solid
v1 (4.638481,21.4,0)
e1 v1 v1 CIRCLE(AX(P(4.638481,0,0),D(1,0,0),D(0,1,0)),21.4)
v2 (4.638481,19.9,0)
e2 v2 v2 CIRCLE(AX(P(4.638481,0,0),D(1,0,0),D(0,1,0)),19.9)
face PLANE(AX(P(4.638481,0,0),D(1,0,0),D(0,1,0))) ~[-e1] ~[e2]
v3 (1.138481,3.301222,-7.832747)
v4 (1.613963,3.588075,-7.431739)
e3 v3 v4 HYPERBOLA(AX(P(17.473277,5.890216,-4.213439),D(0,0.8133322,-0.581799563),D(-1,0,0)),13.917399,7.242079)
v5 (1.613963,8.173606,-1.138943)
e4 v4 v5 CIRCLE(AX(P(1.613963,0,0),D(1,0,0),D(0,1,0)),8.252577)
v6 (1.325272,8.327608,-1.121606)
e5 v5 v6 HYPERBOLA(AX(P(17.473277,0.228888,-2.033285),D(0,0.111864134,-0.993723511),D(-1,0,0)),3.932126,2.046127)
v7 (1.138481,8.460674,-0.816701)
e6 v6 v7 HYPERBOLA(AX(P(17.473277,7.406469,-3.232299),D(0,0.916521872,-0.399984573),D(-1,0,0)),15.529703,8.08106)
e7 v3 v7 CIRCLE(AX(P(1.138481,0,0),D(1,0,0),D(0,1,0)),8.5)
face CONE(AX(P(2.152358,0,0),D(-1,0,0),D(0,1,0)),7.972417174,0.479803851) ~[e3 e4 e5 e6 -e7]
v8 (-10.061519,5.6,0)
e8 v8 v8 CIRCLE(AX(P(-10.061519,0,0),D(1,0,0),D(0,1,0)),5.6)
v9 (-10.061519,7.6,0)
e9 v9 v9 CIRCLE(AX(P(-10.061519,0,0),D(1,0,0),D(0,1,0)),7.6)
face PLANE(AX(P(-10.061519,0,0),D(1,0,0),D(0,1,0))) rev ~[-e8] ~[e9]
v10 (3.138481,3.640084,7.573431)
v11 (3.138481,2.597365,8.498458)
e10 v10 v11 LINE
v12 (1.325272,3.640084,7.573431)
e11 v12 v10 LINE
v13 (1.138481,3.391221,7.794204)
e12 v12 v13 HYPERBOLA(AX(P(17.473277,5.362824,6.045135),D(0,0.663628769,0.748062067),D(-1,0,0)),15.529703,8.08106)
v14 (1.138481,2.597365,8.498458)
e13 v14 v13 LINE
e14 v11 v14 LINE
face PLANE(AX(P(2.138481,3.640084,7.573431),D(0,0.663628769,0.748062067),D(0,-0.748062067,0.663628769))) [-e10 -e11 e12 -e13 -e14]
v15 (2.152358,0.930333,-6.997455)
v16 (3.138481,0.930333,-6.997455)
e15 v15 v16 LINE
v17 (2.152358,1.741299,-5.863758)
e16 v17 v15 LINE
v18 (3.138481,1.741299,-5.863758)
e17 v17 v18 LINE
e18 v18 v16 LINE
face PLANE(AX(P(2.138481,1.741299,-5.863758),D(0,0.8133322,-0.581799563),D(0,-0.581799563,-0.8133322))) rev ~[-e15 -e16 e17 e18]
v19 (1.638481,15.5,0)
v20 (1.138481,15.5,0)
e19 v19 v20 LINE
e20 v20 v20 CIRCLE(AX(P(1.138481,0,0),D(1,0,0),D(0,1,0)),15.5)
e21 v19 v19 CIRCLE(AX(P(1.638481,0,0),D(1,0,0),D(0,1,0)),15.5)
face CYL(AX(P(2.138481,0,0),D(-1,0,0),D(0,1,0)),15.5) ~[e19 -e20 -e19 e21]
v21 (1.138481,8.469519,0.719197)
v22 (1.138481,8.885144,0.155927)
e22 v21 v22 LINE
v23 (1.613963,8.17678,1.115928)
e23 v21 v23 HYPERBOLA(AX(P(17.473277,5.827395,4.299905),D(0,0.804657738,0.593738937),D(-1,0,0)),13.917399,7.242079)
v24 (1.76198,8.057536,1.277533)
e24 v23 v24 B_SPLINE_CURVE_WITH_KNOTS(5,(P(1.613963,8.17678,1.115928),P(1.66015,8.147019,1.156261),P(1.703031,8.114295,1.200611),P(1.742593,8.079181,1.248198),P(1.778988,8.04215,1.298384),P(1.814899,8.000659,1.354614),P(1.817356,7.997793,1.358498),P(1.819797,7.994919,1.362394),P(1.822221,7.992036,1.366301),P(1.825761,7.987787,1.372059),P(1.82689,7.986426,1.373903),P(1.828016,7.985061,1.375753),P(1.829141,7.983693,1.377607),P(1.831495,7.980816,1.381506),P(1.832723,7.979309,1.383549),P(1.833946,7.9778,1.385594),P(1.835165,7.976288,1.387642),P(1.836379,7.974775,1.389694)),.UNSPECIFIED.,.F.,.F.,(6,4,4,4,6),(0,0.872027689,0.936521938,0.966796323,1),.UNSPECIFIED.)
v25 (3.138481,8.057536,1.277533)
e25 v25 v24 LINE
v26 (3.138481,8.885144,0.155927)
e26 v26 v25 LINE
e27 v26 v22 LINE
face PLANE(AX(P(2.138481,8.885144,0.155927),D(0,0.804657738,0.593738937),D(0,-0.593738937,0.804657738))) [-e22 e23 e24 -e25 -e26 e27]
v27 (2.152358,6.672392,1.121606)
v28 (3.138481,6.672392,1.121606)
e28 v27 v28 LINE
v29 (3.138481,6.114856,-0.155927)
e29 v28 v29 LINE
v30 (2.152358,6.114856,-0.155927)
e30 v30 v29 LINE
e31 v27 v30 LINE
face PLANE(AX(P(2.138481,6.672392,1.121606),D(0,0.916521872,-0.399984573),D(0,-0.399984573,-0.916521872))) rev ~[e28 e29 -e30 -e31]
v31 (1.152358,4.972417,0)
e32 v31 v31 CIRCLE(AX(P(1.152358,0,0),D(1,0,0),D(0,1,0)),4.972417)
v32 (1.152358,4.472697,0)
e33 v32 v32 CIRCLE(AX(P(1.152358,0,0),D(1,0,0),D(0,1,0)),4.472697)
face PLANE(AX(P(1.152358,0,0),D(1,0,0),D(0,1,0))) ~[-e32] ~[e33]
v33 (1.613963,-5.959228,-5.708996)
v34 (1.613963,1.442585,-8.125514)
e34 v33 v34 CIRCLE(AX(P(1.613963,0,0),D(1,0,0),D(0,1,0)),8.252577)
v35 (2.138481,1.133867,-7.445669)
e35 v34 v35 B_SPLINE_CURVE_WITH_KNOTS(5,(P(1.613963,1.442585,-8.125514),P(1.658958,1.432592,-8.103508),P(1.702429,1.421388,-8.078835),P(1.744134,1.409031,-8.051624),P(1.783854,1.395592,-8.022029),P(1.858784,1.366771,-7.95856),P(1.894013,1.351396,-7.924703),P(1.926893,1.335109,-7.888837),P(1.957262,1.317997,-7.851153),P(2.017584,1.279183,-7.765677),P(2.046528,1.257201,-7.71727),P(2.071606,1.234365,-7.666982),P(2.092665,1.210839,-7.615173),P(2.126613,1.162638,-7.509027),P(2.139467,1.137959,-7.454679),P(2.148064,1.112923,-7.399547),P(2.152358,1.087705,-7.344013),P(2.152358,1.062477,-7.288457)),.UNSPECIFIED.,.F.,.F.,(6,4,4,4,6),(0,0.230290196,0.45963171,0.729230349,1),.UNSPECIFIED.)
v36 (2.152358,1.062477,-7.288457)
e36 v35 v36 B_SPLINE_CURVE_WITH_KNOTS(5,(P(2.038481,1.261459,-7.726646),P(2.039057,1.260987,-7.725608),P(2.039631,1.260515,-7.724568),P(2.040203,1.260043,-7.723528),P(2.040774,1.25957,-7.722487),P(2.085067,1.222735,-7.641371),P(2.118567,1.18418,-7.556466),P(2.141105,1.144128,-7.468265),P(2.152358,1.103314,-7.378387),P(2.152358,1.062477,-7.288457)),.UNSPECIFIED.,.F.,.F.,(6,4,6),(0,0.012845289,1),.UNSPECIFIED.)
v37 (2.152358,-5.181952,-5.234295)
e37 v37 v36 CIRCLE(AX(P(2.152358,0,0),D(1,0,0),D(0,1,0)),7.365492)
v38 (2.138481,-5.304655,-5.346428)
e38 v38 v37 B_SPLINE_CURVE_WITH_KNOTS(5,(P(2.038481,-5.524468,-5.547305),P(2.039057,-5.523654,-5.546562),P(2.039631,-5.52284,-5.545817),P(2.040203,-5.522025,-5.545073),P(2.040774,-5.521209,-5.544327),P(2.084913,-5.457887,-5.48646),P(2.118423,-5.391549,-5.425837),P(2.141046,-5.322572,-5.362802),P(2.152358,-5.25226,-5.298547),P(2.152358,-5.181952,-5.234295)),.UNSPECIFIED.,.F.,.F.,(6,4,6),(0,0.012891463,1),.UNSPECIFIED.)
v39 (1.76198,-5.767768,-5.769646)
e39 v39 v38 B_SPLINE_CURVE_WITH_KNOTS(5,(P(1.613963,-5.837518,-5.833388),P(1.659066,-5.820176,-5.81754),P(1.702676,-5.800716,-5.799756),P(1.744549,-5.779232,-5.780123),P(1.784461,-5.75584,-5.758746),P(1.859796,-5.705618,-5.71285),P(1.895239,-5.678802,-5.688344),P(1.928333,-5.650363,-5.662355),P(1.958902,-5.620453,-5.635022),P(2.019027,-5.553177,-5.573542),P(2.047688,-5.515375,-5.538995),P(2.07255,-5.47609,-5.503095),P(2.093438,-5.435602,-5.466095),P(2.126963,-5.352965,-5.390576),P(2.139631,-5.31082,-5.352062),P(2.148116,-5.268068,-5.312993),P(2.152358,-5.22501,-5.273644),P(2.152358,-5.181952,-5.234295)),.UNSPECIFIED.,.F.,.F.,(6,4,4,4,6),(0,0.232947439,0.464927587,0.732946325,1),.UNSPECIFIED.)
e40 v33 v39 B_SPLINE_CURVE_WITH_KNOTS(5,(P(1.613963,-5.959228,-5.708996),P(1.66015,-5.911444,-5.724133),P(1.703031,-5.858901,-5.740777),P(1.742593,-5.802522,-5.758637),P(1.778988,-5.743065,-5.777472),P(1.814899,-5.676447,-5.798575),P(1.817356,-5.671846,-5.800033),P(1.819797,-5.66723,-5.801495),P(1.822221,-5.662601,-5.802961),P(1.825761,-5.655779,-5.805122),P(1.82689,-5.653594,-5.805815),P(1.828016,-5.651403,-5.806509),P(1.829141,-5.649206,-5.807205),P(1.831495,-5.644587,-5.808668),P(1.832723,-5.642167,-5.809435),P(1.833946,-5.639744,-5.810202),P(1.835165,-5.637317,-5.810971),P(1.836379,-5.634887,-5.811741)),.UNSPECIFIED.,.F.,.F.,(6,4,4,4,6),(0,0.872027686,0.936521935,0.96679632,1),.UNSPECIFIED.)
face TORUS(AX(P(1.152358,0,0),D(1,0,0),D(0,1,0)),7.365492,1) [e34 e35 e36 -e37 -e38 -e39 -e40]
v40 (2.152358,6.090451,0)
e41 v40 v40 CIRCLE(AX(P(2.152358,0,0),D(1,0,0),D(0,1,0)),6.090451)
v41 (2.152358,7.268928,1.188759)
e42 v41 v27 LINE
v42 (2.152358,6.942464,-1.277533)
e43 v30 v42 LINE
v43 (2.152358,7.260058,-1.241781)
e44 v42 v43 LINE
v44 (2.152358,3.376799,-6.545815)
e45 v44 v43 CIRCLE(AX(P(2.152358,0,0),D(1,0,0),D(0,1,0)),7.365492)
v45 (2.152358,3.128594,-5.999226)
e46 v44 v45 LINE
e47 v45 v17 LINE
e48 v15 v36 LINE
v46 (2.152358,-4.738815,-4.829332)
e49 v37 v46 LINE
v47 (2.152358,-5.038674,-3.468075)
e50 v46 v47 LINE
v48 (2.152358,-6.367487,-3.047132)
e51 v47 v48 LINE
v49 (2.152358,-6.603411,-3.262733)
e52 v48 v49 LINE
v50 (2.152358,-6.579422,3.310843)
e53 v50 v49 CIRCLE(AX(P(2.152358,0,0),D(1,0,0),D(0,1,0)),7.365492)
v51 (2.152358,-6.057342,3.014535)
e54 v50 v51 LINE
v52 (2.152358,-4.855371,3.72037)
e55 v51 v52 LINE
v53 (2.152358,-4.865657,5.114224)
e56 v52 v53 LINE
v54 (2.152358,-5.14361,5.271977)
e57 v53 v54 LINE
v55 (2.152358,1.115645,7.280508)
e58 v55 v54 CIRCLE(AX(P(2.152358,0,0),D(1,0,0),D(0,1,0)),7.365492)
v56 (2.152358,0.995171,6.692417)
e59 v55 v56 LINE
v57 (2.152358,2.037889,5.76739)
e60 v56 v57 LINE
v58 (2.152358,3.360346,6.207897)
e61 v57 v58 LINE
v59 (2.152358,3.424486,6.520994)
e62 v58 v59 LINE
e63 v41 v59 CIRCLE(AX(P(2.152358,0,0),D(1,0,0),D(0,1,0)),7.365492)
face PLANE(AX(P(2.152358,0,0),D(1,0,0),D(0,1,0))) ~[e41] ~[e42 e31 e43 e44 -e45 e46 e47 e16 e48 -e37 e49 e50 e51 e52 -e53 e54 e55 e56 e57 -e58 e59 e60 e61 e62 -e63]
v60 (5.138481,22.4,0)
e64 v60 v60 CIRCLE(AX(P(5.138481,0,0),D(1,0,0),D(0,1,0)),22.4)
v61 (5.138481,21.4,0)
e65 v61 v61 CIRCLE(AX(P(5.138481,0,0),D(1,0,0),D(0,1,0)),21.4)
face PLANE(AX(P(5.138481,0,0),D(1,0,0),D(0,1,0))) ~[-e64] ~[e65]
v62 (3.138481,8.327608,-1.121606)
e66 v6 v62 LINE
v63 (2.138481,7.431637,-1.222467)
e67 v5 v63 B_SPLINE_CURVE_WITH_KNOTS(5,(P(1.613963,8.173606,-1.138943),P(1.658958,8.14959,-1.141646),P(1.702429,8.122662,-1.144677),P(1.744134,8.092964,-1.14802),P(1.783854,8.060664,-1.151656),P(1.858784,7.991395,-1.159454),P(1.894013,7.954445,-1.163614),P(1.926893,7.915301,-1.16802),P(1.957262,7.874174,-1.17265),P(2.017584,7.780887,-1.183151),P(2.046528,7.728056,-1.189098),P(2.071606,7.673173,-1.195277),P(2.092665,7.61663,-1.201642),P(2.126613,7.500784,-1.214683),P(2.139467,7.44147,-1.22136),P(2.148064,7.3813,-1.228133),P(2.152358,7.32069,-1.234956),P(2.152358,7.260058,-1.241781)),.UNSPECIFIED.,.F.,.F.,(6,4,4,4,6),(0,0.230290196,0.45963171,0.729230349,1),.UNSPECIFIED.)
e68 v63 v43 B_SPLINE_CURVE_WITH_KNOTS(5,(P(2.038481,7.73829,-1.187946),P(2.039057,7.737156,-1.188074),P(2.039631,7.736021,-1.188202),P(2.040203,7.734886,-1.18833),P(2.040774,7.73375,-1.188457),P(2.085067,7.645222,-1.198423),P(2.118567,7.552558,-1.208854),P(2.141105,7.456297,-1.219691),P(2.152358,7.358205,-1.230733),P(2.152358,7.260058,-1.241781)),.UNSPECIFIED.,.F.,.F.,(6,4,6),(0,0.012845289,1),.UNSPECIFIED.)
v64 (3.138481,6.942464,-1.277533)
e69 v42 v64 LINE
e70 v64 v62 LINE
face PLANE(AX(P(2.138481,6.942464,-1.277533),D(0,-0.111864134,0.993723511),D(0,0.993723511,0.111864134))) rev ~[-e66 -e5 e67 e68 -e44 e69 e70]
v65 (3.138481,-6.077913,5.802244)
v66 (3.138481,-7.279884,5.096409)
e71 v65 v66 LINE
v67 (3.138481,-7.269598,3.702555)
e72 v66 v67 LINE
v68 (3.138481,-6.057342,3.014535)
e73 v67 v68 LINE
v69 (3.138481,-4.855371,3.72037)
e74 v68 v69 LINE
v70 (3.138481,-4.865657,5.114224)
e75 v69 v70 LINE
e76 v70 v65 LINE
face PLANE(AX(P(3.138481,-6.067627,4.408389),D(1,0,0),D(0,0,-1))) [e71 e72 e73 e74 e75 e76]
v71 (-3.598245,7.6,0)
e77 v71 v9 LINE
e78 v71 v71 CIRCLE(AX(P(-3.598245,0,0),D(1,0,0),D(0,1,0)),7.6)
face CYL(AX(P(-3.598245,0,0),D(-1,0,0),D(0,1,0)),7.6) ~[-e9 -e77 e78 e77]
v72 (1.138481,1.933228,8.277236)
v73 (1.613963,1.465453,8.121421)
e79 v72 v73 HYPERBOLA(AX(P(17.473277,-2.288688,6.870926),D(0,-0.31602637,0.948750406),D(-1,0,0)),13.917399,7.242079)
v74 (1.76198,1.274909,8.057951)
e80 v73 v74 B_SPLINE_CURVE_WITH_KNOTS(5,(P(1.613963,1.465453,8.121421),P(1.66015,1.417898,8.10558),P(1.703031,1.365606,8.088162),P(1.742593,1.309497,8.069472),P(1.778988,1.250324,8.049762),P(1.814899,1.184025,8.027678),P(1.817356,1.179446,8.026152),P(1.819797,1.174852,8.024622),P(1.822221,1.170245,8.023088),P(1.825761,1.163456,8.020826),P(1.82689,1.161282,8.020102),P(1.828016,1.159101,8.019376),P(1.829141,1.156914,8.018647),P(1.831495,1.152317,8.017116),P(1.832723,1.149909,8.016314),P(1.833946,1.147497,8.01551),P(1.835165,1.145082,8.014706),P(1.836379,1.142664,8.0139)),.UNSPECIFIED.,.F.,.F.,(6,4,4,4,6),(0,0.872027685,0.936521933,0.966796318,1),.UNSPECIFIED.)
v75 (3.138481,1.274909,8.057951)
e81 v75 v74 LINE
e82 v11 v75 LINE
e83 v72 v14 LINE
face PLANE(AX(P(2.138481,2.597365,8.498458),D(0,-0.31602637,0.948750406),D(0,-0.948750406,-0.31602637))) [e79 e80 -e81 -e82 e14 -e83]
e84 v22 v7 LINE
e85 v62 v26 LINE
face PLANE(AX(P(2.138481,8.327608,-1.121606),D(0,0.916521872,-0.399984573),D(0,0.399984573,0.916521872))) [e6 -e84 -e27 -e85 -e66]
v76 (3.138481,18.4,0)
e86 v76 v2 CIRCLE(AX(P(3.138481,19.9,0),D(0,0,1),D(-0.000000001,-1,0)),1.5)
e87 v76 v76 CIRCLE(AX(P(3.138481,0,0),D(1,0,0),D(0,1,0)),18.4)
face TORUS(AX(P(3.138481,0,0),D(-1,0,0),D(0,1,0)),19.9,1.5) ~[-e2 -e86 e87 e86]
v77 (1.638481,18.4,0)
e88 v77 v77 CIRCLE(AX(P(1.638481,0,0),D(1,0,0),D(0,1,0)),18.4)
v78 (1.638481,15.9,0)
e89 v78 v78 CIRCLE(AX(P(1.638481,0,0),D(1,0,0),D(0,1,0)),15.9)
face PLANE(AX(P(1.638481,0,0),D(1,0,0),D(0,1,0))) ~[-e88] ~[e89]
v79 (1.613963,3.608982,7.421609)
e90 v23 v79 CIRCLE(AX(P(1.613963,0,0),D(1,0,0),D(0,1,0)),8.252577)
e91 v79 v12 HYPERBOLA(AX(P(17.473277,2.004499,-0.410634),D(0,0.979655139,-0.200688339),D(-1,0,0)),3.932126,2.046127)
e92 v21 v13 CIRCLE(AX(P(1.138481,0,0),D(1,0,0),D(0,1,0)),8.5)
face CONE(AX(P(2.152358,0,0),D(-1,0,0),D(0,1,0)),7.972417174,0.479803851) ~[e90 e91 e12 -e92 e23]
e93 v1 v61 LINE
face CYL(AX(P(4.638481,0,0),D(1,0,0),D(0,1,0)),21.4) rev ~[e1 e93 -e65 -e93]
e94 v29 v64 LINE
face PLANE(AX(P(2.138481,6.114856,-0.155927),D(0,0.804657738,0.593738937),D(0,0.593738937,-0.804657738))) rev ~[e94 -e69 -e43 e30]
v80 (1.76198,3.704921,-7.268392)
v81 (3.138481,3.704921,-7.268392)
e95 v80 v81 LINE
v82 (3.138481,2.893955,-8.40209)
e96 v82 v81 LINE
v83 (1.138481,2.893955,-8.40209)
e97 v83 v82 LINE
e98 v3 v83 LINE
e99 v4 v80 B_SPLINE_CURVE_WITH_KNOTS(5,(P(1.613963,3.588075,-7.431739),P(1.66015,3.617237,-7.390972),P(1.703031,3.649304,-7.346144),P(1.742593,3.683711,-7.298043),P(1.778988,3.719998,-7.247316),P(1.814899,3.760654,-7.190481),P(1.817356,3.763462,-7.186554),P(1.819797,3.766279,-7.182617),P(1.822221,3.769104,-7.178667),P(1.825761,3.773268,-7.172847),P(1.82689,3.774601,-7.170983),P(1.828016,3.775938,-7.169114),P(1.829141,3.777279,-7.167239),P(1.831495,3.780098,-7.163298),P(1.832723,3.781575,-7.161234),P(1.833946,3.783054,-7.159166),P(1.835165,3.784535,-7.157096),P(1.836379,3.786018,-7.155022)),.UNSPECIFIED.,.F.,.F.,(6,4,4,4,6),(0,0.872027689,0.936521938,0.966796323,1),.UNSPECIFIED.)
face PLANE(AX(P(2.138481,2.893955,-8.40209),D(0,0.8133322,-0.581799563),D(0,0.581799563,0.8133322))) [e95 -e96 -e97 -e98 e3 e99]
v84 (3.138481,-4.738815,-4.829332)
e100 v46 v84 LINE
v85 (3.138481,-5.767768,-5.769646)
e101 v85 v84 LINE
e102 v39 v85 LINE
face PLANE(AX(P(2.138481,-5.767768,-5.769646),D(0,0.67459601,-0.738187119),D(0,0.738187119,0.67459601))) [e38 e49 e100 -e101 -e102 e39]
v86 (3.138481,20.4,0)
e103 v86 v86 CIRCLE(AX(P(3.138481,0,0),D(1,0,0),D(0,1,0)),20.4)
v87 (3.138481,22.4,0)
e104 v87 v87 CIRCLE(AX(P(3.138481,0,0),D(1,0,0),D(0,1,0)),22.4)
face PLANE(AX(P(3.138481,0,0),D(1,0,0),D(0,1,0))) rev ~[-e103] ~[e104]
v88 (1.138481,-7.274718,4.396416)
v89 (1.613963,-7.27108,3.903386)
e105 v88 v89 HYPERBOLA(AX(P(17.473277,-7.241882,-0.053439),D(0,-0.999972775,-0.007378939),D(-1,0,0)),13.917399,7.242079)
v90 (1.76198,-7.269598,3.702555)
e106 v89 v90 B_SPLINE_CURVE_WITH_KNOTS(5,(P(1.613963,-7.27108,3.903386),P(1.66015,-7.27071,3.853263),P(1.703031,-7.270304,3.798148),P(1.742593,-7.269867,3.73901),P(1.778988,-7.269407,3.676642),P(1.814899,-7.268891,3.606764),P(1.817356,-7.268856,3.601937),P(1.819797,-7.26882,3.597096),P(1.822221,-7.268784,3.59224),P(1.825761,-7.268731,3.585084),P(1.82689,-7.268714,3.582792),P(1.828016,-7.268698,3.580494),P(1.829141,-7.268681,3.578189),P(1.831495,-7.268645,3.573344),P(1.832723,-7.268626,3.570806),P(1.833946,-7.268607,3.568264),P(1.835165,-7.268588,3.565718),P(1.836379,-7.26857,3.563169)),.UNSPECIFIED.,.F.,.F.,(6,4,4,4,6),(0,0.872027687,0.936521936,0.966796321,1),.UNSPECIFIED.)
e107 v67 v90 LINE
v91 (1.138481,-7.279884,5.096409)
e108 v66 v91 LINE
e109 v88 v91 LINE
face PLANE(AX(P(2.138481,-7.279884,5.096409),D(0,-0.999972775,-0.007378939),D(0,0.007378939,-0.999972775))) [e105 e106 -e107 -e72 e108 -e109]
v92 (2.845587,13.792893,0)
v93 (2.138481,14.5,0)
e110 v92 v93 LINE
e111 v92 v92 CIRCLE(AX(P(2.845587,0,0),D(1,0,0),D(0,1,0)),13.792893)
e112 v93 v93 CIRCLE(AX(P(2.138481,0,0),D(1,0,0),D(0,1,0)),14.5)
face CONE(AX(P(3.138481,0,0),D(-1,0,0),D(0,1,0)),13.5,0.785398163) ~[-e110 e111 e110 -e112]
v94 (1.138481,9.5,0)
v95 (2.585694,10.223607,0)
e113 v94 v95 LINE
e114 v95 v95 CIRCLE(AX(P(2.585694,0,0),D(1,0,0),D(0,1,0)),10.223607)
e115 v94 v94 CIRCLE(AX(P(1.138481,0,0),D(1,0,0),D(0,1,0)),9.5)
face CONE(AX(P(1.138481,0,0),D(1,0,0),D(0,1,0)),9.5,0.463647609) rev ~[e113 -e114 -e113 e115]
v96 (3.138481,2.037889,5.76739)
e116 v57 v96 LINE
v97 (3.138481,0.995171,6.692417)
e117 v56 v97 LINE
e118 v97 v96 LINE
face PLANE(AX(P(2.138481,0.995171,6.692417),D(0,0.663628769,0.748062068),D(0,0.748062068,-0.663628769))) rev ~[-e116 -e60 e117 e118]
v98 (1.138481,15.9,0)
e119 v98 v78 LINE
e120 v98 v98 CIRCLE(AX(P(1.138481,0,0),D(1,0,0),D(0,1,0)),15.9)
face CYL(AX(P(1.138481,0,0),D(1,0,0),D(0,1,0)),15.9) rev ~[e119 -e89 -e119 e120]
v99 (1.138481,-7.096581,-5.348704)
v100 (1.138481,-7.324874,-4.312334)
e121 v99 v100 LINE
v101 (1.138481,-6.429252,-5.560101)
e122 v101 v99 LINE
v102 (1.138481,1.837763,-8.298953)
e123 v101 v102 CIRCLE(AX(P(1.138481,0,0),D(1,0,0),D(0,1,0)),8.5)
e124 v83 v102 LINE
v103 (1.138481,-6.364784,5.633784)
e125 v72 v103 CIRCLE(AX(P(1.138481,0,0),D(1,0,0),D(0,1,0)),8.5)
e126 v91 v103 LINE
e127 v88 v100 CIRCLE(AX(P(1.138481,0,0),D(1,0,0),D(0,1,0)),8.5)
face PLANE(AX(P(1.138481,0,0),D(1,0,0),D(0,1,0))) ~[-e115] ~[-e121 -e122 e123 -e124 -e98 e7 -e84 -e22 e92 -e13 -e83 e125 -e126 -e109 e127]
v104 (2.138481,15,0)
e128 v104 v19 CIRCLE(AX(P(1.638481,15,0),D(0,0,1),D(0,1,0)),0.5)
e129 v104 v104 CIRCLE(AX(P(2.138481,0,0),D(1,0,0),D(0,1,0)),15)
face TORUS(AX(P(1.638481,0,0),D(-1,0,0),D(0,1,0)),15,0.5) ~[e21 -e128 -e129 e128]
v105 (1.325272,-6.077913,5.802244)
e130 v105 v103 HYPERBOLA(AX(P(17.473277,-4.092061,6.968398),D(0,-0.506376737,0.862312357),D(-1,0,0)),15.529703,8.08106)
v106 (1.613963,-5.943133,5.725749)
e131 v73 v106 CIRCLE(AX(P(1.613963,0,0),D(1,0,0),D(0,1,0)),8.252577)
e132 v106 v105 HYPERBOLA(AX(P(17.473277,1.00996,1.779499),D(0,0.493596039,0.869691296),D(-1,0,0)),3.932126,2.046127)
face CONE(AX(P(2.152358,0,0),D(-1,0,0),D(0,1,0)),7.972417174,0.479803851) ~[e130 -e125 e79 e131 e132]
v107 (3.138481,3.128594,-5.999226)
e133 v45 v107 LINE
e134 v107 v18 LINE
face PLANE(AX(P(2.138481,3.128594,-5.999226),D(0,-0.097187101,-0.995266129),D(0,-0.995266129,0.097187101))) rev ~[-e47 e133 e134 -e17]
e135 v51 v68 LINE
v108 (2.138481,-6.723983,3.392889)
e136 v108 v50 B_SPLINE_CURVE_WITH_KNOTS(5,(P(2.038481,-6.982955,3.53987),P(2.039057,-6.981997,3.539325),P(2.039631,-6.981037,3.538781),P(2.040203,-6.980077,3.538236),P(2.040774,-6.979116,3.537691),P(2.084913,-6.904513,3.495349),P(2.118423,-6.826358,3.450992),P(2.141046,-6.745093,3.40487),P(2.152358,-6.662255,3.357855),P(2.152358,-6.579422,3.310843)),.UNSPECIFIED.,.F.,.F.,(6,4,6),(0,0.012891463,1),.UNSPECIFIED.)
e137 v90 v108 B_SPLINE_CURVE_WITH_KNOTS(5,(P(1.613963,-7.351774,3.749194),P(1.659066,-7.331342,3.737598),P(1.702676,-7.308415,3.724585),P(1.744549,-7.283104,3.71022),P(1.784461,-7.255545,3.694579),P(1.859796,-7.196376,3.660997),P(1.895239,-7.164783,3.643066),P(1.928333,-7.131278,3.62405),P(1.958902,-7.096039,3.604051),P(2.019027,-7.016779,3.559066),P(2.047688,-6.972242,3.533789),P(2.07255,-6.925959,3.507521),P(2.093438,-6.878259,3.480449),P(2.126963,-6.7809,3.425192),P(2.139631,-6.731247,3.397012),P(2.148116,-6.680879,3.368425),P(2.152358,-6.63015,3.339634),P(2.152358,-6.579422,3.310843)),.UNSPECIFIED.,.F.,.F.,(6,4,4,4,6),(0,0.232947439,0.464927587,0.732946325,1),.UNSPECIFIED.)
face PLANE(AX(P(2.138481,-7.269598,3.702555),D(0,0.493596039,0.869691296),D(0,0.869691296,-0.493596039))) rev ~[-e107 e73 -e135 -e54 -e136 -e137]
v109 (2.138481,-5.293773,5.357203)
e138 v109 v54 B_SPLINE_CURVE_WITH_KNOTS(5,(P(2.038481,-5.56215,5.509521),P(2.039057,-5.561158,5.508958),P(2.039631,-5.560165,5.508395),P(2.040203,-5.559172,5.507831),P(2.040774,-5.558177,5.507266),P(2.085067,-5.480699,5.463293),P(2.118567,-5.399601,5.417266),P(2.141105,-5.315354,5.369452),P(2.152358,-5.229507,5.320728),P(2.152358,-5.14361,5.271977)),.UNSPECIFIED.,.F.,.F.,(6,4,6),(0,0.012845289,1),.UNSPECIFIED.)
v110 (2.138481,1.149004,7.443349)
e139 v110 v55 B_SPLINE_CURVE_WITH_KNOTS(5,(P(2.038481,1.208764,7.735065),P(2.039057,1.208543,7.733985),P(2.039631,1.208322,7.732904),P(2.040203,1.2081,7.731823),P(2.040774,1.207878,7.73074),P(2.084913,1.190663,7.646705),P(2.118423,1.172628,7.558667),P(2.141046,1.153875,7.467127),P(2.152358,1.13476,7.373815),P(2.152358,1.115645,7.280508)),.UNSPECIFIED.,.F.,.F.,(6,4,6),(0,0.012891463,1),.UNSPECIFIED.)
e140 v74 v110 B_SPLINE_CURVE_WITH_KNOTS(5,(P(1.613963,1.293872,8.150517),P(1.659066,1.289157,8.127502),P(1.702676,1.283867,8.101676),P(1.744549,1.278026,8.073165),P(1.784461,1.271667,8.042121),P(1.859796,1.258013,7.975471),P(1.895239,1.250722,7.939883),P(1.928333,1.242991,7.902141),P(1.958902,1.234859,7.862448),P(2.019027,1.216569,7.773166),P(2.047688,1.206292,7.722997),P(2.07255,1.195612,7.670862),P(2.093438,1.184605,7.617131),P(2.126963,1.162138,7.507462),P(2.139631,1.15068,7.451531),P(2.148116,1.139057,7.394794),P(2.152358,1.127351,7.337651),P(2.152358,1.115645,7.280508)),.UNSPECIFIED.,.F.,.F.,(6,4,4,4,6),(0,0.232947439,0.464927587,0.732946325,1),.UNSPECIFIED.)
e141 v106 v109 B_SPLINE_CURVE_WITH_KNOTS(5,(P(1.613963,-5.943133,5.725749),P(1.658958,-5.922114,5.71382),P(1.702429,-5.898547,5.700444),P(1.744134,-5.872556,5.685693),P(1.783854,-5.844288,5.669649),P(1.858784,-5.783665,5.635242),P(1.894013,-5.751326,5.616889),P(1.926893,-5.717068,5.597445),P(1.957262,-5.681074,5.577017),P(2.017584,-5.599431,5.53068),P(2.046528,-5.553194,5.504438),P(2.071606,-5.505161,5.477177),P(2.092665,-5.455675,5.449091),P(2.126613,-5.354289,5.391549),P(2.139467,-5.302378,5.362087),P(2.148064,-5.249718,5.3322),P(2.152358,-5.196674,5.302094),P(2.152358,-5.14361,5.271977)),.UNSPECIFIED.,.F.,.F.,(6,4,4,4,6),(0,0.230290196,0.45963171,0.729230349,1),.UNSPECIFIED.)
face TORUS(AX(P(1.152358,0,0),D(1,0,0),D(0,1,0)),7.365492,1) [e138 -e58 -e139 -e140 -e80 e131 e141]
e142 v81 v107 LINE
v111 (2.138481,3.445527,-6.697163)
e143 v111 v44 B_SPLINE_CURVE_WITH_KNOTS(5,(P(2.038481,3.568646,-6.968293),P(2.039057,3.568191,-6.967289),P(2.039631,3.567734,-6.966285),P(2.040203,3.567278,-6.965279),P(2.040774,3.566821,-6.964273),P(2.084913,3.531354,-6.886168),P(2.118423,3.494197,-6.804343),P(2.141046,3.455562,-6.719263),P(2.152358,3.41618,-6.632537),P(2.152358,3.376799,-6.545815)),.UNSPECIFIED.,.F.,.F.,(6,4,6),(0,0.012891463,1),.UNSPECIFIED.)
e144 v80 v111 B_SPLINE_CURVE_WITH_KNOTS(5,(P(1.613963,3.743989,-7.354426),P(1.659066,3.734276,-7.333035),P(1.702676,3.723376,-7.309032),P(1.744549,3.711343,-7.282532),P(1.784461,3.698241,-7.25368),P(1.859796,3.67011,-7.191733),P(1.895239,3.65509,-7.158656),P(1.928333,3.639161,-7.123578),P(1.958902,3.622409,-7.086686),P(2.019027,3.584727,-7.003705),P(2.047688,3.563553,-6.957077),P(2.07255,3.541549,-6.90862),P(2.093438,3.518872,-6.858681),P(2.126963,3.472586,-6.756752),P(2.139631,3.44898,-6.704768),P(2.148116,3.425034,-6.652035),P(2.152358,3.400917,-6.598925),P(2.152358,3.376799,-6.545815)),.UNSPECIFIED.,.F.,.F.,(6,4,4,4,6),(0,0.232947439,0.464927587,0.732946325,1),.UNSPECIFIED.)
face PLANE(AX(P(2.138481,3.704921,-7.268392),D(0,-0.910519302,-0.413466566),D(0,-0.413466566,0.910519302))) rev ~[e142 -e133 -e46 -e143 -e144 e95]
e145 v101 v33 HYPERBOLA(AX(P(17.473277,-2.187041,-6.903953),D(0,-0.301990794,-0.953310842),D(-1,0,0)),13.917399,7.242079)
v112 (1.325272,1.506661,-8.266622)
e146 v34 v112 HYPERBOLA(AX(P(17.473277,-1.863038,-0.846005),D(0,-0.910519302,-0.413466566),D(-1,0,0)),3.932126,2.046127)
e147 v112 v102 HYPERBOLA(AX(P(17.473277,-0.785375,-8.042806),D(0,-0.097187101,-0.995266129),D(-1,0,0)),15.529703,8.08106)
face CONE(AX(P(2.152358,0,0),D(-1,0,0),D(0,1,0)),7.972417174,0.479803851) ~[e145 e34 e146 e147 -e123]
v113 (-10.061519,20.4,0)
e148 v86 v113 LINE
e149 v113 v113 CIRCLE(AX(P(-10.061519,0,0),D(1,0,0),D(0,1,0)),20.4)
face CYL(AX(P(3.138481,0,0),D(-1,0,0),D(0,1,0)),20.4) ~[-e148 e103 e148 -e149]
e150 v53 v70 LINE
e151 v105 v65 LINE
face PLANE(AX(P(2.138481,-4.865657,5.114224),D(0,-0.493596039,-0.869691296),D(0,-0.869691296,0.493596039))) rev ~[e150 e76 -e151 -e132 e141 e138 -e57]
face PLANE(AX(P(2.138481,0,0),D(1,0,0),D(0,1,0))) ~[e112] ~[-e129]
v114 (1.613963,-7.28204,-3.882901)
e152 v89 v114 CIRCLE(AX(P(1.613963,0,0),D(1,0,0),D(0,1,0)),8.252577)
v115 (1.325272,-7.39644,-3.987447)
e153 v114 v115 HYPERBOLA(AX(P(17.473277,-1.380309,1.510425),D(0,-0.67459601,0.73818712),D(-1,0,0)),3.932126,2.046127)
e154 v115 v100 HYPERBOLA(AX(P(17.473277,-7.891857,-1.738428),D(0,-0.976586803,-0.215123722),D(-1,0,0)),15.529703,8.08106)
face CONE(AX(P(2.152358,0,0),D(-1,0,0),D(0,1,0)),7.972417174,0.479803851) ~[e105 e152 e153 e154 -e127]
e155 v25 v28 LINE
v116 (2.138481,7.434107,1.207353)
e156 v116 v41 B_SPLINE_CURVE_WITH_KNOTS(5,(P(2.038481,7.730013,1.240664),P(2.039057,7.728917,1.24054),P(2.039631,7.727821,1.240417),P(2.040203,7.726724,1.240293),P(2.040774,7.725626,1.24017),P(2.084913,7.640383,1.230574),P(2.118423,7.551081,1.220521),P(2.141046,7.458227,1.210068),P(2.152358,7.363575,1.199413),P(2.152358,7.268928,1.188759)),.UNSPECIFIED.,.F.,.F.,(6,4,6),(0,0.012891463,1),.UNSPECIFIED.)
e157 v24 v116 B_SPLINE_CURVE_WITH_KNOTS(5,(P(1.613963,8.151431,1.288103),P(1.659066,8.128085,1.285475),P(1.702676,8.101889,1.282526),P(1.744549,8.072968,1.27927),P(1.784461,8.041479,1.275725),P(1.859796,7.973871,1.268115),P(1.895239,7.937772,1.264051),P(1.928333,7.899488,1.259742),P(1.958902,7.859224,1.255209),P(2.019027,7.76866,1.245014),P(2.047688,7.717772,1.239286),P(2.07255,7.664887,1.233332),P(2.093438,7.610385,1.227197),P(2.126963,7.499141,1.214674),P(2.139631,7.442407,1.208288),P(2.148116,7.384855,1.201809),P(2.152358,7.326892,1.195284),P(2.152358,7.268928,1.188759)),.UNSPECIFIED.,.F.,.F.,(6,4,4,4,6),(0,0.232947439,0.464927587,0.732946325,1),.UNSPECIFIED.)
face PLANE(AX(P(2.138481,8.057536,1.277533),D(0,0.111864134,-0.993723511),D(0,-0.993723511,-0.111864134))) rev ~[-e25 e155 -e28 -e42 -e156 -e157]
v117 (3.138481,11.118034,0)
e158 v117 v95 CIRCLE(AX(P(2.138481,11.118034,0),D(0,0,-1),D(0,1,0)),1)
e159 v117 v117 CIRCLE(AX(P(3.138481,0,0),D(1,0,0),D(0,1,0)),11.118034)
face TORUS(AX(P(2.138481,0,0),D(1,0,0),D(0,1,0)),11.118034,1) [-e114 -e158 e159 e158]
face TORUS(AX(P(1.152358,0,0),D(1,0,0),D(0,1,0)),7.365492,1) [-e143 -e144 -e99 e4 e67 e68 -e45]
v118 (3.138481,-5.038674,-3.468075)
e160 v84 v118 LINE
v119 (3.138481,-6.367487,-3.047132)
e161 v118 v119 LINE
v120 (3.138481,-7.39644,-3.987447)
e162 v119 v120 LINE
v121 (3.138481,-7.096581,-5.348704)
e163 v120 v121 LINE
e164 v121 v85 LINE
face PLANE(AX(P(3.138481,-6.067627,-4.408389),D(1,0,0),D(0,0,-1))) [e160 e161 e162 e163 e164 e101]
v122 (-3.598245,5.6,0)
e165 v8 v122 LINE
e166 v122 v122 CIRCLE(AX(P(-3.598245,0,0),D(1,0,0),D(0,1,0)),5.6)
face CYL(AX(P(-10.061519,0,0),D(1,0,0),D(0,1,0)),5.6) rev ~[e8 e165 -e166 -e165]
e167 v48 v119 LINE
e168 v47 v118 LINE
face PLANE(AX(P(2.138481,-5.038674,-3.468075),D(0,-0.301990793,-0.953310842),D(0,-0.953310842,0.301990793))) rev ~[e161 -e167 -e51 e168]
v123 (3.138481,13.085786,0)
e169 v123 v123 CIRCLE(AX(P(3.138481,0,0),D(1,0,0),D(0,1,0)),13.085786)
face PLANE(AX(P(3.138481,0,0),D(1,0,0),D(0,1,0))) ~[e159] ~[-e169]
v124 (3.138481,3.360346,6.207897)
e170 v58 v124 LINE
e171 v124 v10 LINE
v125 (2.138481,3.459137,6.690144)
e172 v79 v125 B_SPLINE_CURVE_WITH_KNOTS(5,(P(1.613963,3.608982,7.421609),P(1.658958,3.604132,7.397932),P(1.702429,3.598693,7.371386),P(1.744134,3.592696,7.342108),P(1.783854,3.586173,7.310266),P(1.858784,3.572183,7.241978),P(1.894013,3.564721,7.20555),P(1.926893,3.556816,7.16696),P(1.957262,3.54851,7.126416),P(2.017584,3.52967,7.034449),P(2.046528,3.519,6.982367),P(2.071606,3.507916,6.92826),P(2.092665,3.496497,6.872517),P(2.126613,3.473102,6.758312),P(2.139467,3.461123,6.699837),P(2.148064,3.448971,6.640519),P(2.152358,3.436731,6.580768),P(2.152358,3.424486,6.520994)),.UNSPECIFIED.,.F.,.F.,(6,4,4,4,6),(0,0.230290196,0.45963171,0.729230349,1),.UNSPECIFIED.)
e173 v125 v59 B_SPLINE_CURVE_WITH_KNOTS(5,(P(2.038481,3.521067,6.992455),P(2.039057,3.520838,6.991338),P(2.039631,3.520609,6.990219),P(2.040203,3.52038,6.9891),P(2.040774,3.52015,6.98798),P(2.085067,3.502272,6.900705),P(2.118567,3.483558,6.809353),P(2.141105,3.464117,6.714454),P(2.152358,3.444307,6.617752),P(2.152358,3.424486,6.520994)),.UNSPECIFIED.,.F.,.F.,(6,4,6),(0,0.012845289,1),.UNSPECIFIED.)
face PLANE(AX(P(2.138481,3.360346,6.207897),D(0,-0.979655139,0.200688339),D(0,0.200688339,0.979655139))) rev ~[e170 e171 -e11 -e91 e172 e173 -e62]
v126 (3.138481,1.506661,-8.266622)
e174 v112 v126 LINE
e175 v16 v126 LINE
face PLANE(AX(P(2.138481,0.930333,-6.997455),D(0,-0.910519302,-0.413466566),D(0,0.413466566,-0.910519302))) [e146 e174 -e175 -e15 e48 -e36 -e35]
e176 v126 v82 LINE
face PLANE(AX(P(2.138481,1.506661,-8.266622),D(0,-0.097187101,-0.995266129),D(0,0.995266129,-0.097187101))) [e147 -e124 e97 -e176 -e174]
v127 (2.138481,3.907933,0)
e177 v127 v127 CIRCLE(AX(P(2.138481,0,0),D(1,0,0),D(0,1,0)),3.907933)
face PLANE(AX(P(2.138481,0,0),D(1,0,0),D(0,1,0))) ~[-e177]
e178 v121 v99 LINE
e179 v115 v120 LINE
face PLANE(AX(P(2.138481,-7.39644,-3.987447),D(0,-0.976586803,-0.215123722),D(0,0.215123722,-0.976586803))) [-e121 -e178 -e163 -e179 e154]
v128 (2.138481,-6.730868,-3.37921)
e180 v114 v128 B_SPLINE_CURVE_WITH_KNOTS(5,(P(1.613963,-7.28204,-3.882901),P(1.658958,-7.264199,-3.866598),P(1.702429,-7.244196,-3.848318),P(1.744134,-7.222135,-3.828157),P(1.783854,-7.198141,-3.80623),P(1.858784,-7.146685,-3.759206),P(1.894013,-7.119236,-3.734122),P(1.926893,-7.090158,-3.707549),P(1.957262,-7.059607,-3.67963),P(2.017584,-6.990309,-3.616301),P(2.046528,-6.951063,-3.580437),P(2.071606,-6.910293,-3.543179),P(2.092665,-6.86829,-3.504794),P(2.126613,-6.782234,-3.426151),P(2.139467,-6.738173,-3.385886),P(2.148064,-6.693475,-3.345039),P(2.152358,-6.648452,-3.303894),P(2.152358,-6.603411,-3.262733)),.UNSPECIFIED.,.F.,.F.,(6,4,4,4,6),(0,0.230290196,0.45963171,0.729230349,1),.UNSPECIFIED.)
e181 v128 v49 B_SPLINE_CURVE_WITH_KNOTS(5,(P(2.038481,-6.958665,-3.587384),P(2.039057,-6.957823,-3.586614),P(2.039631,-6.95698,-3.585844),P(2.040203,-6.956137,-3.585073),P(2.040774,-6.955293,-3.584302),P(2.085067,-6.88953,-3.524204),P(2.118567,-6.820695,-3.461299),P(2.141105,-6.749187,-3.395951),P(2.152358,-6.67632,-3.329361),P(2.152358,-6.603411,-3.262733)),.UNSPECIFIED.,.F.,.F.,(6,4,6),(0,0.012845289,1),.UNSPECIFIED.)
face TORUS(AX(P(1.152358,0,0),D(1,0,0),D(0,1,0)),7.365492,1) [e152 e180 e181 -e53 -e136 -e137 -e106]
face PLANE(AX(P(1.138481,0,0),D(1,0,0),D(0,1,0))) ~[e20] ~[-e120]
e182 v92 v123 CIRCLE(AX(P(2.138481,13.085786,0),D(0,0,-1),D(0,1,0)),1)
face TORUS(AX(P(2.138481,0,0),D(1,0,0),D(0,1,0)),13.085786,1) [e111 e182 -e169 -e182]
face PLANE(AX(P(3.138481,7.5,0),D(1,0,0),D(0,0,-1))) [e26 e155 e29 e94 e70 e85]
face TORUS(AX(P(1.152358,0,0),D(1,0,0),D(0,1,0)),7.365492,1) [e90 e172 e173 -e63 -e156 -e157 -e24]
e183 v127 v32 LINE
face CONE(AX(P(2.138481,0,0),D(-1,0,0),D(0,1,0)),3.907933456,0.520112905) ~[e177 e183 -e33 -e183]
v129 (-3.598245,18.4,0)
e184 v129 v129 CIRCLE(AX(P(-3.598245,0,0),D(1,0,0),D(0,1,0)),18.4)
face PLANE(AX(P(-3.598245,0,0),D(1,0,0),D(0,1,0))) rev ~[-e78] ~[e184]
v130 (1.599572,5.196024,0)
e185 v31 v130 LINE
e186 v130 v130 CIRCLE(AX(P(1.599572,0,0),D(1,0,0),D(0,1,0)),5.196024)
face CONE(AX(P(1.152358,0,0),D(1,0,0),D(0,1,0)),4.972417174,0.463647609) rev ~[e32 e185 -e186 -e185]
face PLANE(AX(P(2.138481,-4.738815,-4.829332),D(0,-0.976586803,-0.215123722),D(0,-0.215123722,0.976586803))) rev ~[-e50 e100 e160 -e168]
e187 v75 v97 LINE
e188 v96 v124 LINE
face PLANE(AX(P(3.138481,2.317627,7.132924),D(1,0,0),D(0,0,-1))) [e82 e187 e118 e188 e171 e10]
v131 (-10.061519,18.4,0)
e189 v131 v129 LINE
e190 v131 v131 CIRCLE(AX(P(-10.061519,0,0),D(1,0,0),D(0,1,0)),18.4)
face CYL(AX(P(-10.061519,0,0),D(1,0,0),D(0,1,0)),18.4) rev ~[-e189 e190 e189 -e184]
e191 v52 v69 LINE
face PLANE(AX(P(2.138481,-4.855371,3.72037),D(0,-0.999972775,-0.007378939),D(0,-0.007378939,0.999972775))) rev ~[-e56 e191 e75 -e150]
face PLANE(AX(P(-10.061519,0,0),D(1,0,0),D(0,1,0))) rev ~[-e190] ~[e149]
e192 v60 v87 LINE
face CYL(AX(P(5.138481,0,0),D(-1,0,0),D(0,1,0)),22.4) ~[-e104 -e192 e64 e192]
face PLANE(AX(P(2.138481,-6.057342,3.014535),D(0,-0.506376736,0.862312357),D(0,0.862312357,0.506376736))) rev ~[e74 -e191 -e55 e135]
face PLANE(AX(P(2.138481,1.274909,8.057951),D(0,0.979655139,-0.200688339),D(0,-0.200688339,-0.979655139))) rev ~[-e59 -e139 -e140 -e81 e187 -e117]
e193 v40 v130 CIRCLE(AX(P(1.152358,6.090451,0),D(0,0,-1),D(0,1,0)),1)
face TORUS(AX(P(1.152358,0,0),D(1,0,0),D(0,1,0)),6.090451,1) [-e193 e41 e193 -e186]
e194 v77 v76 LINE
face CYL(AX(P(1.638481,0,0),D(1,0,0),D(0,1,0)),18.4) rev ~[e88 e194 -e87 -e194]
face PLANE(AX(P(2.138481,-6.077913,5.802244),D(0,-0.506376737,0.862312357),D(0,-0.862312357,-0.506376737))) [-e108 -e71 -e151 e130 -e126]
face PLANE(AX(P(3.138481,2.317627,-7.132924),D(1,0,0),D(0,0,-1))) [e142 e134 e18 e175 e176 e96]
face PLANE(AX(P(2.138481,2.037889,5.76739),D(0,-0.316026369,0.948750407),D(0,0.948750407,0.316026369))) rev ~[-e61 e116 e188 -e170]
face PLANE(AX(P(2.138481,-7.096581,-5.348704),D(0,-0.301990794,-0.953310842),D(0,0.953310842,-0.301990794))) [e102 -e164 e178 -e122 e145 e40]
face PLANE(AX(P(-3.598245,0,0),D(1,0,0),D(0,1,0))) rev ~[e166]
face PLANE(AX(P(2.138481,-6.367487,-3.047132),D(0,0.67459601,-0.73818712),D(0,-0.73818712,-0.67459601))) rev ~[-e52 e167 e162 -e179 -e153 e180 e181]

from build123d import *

# Parameters (mm, degrees)
FILLET1_R                = 0.5
FILLET2_R                = 1
FILLET3_R                = 1
BOSS_EXTRUDE1_DEPTH      = 1
BOSS_EXTRUDE1_DEPTH_BACK = 2


with BuildPart() as part:
    # Sketch1 → Revolve1 (revolve)
    with BuildSketch(Plane.XY):
        with BuildLine():
            Line((5.138480682, 22.4), (3.138480682, 22.4))
            Line((3.138480682, 22.4), (3.138480682, 20.4))
            Line((3.138480682, 20.4), (-10.061519318, 20.4))
            Line((-10.061519318, 20.4), (-10.061519318, 18.4))
            Line((-10.061519318, 18.4), (-3.598245279, 18.4))
            Line((-3.598245279, 18.4), (-3.598245279, 7.6))
            Line((-3.598245279, 7.6), (-10.061519318, 7.6))
            Line((-10.061519318, 7.6), (-10.061519318, 5.6))
            Line((-10.061519318, 5.6), (-3.598245279, 5.6))
            Line((-3.598245279, 5.6), (-3.598245279, 0))
            Line((-3.598245279, 0), (1.040301002, 0))
            Line((1.040301002, 0), (2.138480682, 0))
            Line((2.138480682, 0), (2.138480682, 3.907933456))
            Line((2.138480682, 3.907933456), (1.152358089, 4.47269746))
            Line((1.152358089, 4.47269746), (1.152358089, 4.972417174))
            Line((1.152358089, 4.972417174), (2.152358089, 5.472417174))
            Line((2.152358089, 5.472417174), (2.152358089, 7.972417174))
            Line((2.152358089, 7.972417174), (1.138480682, 8.5))
            Line((1.138480682, 8.5), (1.138480682, 9.5))
            Line((1.138480682, 9.5), (3.138480682, 10.5))
            Line((3.138480682, 10.5), (3.138480682, 13.5))
            Line((3.138480682, 13.5), (2.138480682, 14.5))
            Line((2.138480682, 14.5), (2.138480682, 15.5))
            Line((2.138480682, 15.5), (1.138480682, 15.5))
            Line((1.138480682, 15.5), (1.138480682, 15.9))
            Line((1.138480682, 15.9), (1.638480682, 15.9))
            Line((1.638480682, 15.9), (1.638480682, 18.4))
            Line((1.638480682, 18.4), (3.138480682, 18.4))
            ThreePointArc((3.138480682, 18.4), (4.199140854, 18.839339828), (4.638480682, 19.9))
            Line((4.638480682, 19.9), (4.638480682, 21.4))
            Line((4.638480682, 21.4), (5.138480682, 21.4))
            Line((5.138480682, 21.4), (5.138480682, 22.4))
        make_face()
    revolve(axis=Axis((-13.433569408, 0, 0), (1, 0, 0)))

    # Fillet1
    fillet1_edges = [part.edges().sort_by_distance(p)[0] for p in [
        (2.138480682, -15.5, 0),
    ]]
    fillet(fillet1_edges, radius=FILLET1_R)

    # Fillet2
    fillet2_edges = [part.edges().sort_by_distance(p)[0] for p in [
        (3.138480682, -10.5, 0),
        (3.138480682, -13.5, 0),
    ]]
    fillet(fillet2_edges, radius=FILLET2_R)

    # Fillet3
    fillet3_edges = [part.edges().sort_by_distance(p)[0] for p in [
        (2.152358089, -5.472417174, 0),
        (2.152358089, -7.972417174, 0),
    ]]
    fillet(fillet3_edges, radius=FILLET3_R)

    # Sketch2 → Boss-Extrude1 (add, two sides)
    with BuildSketch(Plane(origin=(2.138480682, 0, 0), x_dir=(0, 0, -1), z_dir=(1, 0, 0))) as boss_extrude1_sk:
        Polygon((6.997455497, 0.930333424), (8.26662156, 1.506661387), (8.402089935, 2.89395542), (7.268392248, 3.704921491), (5.999226184, 3.128593529), (5.863757809, 1.741299496), align=None)
        Polygon((1.277533, 6.942464486), (1.121606418, 8.327608276), (-0.155926582, 8.885143789), (-1.277533, 8.057535514), (-1.121606418, 6.672391724), (0.155926582, 6.114856211), align=None)
        Polygon((3.047132332, -6.367486809), (3.987446678, -7.396440329), (5.348703738, -7.096580978), (5.769646453, -5.767768106), (4.829332107, -4.738814587), (3.468075046, -5.038673938), align=None)
        Polygon((-5.114224148, -4.865656695), (-5.802243985, -6.077912906), (-5.096409229, -7.279883668), (-3.702554637, -7.26959822), (-3.0145348, -6.05734201), (-3.720369555, -4.855371247), align=None)
        Polygon((-6.207896681, 3.360345594), (-7.573430671, 3.640083573), (-8.498457863, 2.597365437), (-8.057951063, 1.274909322), (-6.692417073, 0.995171343), (-5.767389882, 2.037889479), align=None)
    extrude(amount=BOSS_EXTRUDE1_DEPTH)
    extrude(boss_extrude1_sk.sketch, amount=-BOSS_EXTRUDE1_DEPTH_BACK)


solid = part.part
